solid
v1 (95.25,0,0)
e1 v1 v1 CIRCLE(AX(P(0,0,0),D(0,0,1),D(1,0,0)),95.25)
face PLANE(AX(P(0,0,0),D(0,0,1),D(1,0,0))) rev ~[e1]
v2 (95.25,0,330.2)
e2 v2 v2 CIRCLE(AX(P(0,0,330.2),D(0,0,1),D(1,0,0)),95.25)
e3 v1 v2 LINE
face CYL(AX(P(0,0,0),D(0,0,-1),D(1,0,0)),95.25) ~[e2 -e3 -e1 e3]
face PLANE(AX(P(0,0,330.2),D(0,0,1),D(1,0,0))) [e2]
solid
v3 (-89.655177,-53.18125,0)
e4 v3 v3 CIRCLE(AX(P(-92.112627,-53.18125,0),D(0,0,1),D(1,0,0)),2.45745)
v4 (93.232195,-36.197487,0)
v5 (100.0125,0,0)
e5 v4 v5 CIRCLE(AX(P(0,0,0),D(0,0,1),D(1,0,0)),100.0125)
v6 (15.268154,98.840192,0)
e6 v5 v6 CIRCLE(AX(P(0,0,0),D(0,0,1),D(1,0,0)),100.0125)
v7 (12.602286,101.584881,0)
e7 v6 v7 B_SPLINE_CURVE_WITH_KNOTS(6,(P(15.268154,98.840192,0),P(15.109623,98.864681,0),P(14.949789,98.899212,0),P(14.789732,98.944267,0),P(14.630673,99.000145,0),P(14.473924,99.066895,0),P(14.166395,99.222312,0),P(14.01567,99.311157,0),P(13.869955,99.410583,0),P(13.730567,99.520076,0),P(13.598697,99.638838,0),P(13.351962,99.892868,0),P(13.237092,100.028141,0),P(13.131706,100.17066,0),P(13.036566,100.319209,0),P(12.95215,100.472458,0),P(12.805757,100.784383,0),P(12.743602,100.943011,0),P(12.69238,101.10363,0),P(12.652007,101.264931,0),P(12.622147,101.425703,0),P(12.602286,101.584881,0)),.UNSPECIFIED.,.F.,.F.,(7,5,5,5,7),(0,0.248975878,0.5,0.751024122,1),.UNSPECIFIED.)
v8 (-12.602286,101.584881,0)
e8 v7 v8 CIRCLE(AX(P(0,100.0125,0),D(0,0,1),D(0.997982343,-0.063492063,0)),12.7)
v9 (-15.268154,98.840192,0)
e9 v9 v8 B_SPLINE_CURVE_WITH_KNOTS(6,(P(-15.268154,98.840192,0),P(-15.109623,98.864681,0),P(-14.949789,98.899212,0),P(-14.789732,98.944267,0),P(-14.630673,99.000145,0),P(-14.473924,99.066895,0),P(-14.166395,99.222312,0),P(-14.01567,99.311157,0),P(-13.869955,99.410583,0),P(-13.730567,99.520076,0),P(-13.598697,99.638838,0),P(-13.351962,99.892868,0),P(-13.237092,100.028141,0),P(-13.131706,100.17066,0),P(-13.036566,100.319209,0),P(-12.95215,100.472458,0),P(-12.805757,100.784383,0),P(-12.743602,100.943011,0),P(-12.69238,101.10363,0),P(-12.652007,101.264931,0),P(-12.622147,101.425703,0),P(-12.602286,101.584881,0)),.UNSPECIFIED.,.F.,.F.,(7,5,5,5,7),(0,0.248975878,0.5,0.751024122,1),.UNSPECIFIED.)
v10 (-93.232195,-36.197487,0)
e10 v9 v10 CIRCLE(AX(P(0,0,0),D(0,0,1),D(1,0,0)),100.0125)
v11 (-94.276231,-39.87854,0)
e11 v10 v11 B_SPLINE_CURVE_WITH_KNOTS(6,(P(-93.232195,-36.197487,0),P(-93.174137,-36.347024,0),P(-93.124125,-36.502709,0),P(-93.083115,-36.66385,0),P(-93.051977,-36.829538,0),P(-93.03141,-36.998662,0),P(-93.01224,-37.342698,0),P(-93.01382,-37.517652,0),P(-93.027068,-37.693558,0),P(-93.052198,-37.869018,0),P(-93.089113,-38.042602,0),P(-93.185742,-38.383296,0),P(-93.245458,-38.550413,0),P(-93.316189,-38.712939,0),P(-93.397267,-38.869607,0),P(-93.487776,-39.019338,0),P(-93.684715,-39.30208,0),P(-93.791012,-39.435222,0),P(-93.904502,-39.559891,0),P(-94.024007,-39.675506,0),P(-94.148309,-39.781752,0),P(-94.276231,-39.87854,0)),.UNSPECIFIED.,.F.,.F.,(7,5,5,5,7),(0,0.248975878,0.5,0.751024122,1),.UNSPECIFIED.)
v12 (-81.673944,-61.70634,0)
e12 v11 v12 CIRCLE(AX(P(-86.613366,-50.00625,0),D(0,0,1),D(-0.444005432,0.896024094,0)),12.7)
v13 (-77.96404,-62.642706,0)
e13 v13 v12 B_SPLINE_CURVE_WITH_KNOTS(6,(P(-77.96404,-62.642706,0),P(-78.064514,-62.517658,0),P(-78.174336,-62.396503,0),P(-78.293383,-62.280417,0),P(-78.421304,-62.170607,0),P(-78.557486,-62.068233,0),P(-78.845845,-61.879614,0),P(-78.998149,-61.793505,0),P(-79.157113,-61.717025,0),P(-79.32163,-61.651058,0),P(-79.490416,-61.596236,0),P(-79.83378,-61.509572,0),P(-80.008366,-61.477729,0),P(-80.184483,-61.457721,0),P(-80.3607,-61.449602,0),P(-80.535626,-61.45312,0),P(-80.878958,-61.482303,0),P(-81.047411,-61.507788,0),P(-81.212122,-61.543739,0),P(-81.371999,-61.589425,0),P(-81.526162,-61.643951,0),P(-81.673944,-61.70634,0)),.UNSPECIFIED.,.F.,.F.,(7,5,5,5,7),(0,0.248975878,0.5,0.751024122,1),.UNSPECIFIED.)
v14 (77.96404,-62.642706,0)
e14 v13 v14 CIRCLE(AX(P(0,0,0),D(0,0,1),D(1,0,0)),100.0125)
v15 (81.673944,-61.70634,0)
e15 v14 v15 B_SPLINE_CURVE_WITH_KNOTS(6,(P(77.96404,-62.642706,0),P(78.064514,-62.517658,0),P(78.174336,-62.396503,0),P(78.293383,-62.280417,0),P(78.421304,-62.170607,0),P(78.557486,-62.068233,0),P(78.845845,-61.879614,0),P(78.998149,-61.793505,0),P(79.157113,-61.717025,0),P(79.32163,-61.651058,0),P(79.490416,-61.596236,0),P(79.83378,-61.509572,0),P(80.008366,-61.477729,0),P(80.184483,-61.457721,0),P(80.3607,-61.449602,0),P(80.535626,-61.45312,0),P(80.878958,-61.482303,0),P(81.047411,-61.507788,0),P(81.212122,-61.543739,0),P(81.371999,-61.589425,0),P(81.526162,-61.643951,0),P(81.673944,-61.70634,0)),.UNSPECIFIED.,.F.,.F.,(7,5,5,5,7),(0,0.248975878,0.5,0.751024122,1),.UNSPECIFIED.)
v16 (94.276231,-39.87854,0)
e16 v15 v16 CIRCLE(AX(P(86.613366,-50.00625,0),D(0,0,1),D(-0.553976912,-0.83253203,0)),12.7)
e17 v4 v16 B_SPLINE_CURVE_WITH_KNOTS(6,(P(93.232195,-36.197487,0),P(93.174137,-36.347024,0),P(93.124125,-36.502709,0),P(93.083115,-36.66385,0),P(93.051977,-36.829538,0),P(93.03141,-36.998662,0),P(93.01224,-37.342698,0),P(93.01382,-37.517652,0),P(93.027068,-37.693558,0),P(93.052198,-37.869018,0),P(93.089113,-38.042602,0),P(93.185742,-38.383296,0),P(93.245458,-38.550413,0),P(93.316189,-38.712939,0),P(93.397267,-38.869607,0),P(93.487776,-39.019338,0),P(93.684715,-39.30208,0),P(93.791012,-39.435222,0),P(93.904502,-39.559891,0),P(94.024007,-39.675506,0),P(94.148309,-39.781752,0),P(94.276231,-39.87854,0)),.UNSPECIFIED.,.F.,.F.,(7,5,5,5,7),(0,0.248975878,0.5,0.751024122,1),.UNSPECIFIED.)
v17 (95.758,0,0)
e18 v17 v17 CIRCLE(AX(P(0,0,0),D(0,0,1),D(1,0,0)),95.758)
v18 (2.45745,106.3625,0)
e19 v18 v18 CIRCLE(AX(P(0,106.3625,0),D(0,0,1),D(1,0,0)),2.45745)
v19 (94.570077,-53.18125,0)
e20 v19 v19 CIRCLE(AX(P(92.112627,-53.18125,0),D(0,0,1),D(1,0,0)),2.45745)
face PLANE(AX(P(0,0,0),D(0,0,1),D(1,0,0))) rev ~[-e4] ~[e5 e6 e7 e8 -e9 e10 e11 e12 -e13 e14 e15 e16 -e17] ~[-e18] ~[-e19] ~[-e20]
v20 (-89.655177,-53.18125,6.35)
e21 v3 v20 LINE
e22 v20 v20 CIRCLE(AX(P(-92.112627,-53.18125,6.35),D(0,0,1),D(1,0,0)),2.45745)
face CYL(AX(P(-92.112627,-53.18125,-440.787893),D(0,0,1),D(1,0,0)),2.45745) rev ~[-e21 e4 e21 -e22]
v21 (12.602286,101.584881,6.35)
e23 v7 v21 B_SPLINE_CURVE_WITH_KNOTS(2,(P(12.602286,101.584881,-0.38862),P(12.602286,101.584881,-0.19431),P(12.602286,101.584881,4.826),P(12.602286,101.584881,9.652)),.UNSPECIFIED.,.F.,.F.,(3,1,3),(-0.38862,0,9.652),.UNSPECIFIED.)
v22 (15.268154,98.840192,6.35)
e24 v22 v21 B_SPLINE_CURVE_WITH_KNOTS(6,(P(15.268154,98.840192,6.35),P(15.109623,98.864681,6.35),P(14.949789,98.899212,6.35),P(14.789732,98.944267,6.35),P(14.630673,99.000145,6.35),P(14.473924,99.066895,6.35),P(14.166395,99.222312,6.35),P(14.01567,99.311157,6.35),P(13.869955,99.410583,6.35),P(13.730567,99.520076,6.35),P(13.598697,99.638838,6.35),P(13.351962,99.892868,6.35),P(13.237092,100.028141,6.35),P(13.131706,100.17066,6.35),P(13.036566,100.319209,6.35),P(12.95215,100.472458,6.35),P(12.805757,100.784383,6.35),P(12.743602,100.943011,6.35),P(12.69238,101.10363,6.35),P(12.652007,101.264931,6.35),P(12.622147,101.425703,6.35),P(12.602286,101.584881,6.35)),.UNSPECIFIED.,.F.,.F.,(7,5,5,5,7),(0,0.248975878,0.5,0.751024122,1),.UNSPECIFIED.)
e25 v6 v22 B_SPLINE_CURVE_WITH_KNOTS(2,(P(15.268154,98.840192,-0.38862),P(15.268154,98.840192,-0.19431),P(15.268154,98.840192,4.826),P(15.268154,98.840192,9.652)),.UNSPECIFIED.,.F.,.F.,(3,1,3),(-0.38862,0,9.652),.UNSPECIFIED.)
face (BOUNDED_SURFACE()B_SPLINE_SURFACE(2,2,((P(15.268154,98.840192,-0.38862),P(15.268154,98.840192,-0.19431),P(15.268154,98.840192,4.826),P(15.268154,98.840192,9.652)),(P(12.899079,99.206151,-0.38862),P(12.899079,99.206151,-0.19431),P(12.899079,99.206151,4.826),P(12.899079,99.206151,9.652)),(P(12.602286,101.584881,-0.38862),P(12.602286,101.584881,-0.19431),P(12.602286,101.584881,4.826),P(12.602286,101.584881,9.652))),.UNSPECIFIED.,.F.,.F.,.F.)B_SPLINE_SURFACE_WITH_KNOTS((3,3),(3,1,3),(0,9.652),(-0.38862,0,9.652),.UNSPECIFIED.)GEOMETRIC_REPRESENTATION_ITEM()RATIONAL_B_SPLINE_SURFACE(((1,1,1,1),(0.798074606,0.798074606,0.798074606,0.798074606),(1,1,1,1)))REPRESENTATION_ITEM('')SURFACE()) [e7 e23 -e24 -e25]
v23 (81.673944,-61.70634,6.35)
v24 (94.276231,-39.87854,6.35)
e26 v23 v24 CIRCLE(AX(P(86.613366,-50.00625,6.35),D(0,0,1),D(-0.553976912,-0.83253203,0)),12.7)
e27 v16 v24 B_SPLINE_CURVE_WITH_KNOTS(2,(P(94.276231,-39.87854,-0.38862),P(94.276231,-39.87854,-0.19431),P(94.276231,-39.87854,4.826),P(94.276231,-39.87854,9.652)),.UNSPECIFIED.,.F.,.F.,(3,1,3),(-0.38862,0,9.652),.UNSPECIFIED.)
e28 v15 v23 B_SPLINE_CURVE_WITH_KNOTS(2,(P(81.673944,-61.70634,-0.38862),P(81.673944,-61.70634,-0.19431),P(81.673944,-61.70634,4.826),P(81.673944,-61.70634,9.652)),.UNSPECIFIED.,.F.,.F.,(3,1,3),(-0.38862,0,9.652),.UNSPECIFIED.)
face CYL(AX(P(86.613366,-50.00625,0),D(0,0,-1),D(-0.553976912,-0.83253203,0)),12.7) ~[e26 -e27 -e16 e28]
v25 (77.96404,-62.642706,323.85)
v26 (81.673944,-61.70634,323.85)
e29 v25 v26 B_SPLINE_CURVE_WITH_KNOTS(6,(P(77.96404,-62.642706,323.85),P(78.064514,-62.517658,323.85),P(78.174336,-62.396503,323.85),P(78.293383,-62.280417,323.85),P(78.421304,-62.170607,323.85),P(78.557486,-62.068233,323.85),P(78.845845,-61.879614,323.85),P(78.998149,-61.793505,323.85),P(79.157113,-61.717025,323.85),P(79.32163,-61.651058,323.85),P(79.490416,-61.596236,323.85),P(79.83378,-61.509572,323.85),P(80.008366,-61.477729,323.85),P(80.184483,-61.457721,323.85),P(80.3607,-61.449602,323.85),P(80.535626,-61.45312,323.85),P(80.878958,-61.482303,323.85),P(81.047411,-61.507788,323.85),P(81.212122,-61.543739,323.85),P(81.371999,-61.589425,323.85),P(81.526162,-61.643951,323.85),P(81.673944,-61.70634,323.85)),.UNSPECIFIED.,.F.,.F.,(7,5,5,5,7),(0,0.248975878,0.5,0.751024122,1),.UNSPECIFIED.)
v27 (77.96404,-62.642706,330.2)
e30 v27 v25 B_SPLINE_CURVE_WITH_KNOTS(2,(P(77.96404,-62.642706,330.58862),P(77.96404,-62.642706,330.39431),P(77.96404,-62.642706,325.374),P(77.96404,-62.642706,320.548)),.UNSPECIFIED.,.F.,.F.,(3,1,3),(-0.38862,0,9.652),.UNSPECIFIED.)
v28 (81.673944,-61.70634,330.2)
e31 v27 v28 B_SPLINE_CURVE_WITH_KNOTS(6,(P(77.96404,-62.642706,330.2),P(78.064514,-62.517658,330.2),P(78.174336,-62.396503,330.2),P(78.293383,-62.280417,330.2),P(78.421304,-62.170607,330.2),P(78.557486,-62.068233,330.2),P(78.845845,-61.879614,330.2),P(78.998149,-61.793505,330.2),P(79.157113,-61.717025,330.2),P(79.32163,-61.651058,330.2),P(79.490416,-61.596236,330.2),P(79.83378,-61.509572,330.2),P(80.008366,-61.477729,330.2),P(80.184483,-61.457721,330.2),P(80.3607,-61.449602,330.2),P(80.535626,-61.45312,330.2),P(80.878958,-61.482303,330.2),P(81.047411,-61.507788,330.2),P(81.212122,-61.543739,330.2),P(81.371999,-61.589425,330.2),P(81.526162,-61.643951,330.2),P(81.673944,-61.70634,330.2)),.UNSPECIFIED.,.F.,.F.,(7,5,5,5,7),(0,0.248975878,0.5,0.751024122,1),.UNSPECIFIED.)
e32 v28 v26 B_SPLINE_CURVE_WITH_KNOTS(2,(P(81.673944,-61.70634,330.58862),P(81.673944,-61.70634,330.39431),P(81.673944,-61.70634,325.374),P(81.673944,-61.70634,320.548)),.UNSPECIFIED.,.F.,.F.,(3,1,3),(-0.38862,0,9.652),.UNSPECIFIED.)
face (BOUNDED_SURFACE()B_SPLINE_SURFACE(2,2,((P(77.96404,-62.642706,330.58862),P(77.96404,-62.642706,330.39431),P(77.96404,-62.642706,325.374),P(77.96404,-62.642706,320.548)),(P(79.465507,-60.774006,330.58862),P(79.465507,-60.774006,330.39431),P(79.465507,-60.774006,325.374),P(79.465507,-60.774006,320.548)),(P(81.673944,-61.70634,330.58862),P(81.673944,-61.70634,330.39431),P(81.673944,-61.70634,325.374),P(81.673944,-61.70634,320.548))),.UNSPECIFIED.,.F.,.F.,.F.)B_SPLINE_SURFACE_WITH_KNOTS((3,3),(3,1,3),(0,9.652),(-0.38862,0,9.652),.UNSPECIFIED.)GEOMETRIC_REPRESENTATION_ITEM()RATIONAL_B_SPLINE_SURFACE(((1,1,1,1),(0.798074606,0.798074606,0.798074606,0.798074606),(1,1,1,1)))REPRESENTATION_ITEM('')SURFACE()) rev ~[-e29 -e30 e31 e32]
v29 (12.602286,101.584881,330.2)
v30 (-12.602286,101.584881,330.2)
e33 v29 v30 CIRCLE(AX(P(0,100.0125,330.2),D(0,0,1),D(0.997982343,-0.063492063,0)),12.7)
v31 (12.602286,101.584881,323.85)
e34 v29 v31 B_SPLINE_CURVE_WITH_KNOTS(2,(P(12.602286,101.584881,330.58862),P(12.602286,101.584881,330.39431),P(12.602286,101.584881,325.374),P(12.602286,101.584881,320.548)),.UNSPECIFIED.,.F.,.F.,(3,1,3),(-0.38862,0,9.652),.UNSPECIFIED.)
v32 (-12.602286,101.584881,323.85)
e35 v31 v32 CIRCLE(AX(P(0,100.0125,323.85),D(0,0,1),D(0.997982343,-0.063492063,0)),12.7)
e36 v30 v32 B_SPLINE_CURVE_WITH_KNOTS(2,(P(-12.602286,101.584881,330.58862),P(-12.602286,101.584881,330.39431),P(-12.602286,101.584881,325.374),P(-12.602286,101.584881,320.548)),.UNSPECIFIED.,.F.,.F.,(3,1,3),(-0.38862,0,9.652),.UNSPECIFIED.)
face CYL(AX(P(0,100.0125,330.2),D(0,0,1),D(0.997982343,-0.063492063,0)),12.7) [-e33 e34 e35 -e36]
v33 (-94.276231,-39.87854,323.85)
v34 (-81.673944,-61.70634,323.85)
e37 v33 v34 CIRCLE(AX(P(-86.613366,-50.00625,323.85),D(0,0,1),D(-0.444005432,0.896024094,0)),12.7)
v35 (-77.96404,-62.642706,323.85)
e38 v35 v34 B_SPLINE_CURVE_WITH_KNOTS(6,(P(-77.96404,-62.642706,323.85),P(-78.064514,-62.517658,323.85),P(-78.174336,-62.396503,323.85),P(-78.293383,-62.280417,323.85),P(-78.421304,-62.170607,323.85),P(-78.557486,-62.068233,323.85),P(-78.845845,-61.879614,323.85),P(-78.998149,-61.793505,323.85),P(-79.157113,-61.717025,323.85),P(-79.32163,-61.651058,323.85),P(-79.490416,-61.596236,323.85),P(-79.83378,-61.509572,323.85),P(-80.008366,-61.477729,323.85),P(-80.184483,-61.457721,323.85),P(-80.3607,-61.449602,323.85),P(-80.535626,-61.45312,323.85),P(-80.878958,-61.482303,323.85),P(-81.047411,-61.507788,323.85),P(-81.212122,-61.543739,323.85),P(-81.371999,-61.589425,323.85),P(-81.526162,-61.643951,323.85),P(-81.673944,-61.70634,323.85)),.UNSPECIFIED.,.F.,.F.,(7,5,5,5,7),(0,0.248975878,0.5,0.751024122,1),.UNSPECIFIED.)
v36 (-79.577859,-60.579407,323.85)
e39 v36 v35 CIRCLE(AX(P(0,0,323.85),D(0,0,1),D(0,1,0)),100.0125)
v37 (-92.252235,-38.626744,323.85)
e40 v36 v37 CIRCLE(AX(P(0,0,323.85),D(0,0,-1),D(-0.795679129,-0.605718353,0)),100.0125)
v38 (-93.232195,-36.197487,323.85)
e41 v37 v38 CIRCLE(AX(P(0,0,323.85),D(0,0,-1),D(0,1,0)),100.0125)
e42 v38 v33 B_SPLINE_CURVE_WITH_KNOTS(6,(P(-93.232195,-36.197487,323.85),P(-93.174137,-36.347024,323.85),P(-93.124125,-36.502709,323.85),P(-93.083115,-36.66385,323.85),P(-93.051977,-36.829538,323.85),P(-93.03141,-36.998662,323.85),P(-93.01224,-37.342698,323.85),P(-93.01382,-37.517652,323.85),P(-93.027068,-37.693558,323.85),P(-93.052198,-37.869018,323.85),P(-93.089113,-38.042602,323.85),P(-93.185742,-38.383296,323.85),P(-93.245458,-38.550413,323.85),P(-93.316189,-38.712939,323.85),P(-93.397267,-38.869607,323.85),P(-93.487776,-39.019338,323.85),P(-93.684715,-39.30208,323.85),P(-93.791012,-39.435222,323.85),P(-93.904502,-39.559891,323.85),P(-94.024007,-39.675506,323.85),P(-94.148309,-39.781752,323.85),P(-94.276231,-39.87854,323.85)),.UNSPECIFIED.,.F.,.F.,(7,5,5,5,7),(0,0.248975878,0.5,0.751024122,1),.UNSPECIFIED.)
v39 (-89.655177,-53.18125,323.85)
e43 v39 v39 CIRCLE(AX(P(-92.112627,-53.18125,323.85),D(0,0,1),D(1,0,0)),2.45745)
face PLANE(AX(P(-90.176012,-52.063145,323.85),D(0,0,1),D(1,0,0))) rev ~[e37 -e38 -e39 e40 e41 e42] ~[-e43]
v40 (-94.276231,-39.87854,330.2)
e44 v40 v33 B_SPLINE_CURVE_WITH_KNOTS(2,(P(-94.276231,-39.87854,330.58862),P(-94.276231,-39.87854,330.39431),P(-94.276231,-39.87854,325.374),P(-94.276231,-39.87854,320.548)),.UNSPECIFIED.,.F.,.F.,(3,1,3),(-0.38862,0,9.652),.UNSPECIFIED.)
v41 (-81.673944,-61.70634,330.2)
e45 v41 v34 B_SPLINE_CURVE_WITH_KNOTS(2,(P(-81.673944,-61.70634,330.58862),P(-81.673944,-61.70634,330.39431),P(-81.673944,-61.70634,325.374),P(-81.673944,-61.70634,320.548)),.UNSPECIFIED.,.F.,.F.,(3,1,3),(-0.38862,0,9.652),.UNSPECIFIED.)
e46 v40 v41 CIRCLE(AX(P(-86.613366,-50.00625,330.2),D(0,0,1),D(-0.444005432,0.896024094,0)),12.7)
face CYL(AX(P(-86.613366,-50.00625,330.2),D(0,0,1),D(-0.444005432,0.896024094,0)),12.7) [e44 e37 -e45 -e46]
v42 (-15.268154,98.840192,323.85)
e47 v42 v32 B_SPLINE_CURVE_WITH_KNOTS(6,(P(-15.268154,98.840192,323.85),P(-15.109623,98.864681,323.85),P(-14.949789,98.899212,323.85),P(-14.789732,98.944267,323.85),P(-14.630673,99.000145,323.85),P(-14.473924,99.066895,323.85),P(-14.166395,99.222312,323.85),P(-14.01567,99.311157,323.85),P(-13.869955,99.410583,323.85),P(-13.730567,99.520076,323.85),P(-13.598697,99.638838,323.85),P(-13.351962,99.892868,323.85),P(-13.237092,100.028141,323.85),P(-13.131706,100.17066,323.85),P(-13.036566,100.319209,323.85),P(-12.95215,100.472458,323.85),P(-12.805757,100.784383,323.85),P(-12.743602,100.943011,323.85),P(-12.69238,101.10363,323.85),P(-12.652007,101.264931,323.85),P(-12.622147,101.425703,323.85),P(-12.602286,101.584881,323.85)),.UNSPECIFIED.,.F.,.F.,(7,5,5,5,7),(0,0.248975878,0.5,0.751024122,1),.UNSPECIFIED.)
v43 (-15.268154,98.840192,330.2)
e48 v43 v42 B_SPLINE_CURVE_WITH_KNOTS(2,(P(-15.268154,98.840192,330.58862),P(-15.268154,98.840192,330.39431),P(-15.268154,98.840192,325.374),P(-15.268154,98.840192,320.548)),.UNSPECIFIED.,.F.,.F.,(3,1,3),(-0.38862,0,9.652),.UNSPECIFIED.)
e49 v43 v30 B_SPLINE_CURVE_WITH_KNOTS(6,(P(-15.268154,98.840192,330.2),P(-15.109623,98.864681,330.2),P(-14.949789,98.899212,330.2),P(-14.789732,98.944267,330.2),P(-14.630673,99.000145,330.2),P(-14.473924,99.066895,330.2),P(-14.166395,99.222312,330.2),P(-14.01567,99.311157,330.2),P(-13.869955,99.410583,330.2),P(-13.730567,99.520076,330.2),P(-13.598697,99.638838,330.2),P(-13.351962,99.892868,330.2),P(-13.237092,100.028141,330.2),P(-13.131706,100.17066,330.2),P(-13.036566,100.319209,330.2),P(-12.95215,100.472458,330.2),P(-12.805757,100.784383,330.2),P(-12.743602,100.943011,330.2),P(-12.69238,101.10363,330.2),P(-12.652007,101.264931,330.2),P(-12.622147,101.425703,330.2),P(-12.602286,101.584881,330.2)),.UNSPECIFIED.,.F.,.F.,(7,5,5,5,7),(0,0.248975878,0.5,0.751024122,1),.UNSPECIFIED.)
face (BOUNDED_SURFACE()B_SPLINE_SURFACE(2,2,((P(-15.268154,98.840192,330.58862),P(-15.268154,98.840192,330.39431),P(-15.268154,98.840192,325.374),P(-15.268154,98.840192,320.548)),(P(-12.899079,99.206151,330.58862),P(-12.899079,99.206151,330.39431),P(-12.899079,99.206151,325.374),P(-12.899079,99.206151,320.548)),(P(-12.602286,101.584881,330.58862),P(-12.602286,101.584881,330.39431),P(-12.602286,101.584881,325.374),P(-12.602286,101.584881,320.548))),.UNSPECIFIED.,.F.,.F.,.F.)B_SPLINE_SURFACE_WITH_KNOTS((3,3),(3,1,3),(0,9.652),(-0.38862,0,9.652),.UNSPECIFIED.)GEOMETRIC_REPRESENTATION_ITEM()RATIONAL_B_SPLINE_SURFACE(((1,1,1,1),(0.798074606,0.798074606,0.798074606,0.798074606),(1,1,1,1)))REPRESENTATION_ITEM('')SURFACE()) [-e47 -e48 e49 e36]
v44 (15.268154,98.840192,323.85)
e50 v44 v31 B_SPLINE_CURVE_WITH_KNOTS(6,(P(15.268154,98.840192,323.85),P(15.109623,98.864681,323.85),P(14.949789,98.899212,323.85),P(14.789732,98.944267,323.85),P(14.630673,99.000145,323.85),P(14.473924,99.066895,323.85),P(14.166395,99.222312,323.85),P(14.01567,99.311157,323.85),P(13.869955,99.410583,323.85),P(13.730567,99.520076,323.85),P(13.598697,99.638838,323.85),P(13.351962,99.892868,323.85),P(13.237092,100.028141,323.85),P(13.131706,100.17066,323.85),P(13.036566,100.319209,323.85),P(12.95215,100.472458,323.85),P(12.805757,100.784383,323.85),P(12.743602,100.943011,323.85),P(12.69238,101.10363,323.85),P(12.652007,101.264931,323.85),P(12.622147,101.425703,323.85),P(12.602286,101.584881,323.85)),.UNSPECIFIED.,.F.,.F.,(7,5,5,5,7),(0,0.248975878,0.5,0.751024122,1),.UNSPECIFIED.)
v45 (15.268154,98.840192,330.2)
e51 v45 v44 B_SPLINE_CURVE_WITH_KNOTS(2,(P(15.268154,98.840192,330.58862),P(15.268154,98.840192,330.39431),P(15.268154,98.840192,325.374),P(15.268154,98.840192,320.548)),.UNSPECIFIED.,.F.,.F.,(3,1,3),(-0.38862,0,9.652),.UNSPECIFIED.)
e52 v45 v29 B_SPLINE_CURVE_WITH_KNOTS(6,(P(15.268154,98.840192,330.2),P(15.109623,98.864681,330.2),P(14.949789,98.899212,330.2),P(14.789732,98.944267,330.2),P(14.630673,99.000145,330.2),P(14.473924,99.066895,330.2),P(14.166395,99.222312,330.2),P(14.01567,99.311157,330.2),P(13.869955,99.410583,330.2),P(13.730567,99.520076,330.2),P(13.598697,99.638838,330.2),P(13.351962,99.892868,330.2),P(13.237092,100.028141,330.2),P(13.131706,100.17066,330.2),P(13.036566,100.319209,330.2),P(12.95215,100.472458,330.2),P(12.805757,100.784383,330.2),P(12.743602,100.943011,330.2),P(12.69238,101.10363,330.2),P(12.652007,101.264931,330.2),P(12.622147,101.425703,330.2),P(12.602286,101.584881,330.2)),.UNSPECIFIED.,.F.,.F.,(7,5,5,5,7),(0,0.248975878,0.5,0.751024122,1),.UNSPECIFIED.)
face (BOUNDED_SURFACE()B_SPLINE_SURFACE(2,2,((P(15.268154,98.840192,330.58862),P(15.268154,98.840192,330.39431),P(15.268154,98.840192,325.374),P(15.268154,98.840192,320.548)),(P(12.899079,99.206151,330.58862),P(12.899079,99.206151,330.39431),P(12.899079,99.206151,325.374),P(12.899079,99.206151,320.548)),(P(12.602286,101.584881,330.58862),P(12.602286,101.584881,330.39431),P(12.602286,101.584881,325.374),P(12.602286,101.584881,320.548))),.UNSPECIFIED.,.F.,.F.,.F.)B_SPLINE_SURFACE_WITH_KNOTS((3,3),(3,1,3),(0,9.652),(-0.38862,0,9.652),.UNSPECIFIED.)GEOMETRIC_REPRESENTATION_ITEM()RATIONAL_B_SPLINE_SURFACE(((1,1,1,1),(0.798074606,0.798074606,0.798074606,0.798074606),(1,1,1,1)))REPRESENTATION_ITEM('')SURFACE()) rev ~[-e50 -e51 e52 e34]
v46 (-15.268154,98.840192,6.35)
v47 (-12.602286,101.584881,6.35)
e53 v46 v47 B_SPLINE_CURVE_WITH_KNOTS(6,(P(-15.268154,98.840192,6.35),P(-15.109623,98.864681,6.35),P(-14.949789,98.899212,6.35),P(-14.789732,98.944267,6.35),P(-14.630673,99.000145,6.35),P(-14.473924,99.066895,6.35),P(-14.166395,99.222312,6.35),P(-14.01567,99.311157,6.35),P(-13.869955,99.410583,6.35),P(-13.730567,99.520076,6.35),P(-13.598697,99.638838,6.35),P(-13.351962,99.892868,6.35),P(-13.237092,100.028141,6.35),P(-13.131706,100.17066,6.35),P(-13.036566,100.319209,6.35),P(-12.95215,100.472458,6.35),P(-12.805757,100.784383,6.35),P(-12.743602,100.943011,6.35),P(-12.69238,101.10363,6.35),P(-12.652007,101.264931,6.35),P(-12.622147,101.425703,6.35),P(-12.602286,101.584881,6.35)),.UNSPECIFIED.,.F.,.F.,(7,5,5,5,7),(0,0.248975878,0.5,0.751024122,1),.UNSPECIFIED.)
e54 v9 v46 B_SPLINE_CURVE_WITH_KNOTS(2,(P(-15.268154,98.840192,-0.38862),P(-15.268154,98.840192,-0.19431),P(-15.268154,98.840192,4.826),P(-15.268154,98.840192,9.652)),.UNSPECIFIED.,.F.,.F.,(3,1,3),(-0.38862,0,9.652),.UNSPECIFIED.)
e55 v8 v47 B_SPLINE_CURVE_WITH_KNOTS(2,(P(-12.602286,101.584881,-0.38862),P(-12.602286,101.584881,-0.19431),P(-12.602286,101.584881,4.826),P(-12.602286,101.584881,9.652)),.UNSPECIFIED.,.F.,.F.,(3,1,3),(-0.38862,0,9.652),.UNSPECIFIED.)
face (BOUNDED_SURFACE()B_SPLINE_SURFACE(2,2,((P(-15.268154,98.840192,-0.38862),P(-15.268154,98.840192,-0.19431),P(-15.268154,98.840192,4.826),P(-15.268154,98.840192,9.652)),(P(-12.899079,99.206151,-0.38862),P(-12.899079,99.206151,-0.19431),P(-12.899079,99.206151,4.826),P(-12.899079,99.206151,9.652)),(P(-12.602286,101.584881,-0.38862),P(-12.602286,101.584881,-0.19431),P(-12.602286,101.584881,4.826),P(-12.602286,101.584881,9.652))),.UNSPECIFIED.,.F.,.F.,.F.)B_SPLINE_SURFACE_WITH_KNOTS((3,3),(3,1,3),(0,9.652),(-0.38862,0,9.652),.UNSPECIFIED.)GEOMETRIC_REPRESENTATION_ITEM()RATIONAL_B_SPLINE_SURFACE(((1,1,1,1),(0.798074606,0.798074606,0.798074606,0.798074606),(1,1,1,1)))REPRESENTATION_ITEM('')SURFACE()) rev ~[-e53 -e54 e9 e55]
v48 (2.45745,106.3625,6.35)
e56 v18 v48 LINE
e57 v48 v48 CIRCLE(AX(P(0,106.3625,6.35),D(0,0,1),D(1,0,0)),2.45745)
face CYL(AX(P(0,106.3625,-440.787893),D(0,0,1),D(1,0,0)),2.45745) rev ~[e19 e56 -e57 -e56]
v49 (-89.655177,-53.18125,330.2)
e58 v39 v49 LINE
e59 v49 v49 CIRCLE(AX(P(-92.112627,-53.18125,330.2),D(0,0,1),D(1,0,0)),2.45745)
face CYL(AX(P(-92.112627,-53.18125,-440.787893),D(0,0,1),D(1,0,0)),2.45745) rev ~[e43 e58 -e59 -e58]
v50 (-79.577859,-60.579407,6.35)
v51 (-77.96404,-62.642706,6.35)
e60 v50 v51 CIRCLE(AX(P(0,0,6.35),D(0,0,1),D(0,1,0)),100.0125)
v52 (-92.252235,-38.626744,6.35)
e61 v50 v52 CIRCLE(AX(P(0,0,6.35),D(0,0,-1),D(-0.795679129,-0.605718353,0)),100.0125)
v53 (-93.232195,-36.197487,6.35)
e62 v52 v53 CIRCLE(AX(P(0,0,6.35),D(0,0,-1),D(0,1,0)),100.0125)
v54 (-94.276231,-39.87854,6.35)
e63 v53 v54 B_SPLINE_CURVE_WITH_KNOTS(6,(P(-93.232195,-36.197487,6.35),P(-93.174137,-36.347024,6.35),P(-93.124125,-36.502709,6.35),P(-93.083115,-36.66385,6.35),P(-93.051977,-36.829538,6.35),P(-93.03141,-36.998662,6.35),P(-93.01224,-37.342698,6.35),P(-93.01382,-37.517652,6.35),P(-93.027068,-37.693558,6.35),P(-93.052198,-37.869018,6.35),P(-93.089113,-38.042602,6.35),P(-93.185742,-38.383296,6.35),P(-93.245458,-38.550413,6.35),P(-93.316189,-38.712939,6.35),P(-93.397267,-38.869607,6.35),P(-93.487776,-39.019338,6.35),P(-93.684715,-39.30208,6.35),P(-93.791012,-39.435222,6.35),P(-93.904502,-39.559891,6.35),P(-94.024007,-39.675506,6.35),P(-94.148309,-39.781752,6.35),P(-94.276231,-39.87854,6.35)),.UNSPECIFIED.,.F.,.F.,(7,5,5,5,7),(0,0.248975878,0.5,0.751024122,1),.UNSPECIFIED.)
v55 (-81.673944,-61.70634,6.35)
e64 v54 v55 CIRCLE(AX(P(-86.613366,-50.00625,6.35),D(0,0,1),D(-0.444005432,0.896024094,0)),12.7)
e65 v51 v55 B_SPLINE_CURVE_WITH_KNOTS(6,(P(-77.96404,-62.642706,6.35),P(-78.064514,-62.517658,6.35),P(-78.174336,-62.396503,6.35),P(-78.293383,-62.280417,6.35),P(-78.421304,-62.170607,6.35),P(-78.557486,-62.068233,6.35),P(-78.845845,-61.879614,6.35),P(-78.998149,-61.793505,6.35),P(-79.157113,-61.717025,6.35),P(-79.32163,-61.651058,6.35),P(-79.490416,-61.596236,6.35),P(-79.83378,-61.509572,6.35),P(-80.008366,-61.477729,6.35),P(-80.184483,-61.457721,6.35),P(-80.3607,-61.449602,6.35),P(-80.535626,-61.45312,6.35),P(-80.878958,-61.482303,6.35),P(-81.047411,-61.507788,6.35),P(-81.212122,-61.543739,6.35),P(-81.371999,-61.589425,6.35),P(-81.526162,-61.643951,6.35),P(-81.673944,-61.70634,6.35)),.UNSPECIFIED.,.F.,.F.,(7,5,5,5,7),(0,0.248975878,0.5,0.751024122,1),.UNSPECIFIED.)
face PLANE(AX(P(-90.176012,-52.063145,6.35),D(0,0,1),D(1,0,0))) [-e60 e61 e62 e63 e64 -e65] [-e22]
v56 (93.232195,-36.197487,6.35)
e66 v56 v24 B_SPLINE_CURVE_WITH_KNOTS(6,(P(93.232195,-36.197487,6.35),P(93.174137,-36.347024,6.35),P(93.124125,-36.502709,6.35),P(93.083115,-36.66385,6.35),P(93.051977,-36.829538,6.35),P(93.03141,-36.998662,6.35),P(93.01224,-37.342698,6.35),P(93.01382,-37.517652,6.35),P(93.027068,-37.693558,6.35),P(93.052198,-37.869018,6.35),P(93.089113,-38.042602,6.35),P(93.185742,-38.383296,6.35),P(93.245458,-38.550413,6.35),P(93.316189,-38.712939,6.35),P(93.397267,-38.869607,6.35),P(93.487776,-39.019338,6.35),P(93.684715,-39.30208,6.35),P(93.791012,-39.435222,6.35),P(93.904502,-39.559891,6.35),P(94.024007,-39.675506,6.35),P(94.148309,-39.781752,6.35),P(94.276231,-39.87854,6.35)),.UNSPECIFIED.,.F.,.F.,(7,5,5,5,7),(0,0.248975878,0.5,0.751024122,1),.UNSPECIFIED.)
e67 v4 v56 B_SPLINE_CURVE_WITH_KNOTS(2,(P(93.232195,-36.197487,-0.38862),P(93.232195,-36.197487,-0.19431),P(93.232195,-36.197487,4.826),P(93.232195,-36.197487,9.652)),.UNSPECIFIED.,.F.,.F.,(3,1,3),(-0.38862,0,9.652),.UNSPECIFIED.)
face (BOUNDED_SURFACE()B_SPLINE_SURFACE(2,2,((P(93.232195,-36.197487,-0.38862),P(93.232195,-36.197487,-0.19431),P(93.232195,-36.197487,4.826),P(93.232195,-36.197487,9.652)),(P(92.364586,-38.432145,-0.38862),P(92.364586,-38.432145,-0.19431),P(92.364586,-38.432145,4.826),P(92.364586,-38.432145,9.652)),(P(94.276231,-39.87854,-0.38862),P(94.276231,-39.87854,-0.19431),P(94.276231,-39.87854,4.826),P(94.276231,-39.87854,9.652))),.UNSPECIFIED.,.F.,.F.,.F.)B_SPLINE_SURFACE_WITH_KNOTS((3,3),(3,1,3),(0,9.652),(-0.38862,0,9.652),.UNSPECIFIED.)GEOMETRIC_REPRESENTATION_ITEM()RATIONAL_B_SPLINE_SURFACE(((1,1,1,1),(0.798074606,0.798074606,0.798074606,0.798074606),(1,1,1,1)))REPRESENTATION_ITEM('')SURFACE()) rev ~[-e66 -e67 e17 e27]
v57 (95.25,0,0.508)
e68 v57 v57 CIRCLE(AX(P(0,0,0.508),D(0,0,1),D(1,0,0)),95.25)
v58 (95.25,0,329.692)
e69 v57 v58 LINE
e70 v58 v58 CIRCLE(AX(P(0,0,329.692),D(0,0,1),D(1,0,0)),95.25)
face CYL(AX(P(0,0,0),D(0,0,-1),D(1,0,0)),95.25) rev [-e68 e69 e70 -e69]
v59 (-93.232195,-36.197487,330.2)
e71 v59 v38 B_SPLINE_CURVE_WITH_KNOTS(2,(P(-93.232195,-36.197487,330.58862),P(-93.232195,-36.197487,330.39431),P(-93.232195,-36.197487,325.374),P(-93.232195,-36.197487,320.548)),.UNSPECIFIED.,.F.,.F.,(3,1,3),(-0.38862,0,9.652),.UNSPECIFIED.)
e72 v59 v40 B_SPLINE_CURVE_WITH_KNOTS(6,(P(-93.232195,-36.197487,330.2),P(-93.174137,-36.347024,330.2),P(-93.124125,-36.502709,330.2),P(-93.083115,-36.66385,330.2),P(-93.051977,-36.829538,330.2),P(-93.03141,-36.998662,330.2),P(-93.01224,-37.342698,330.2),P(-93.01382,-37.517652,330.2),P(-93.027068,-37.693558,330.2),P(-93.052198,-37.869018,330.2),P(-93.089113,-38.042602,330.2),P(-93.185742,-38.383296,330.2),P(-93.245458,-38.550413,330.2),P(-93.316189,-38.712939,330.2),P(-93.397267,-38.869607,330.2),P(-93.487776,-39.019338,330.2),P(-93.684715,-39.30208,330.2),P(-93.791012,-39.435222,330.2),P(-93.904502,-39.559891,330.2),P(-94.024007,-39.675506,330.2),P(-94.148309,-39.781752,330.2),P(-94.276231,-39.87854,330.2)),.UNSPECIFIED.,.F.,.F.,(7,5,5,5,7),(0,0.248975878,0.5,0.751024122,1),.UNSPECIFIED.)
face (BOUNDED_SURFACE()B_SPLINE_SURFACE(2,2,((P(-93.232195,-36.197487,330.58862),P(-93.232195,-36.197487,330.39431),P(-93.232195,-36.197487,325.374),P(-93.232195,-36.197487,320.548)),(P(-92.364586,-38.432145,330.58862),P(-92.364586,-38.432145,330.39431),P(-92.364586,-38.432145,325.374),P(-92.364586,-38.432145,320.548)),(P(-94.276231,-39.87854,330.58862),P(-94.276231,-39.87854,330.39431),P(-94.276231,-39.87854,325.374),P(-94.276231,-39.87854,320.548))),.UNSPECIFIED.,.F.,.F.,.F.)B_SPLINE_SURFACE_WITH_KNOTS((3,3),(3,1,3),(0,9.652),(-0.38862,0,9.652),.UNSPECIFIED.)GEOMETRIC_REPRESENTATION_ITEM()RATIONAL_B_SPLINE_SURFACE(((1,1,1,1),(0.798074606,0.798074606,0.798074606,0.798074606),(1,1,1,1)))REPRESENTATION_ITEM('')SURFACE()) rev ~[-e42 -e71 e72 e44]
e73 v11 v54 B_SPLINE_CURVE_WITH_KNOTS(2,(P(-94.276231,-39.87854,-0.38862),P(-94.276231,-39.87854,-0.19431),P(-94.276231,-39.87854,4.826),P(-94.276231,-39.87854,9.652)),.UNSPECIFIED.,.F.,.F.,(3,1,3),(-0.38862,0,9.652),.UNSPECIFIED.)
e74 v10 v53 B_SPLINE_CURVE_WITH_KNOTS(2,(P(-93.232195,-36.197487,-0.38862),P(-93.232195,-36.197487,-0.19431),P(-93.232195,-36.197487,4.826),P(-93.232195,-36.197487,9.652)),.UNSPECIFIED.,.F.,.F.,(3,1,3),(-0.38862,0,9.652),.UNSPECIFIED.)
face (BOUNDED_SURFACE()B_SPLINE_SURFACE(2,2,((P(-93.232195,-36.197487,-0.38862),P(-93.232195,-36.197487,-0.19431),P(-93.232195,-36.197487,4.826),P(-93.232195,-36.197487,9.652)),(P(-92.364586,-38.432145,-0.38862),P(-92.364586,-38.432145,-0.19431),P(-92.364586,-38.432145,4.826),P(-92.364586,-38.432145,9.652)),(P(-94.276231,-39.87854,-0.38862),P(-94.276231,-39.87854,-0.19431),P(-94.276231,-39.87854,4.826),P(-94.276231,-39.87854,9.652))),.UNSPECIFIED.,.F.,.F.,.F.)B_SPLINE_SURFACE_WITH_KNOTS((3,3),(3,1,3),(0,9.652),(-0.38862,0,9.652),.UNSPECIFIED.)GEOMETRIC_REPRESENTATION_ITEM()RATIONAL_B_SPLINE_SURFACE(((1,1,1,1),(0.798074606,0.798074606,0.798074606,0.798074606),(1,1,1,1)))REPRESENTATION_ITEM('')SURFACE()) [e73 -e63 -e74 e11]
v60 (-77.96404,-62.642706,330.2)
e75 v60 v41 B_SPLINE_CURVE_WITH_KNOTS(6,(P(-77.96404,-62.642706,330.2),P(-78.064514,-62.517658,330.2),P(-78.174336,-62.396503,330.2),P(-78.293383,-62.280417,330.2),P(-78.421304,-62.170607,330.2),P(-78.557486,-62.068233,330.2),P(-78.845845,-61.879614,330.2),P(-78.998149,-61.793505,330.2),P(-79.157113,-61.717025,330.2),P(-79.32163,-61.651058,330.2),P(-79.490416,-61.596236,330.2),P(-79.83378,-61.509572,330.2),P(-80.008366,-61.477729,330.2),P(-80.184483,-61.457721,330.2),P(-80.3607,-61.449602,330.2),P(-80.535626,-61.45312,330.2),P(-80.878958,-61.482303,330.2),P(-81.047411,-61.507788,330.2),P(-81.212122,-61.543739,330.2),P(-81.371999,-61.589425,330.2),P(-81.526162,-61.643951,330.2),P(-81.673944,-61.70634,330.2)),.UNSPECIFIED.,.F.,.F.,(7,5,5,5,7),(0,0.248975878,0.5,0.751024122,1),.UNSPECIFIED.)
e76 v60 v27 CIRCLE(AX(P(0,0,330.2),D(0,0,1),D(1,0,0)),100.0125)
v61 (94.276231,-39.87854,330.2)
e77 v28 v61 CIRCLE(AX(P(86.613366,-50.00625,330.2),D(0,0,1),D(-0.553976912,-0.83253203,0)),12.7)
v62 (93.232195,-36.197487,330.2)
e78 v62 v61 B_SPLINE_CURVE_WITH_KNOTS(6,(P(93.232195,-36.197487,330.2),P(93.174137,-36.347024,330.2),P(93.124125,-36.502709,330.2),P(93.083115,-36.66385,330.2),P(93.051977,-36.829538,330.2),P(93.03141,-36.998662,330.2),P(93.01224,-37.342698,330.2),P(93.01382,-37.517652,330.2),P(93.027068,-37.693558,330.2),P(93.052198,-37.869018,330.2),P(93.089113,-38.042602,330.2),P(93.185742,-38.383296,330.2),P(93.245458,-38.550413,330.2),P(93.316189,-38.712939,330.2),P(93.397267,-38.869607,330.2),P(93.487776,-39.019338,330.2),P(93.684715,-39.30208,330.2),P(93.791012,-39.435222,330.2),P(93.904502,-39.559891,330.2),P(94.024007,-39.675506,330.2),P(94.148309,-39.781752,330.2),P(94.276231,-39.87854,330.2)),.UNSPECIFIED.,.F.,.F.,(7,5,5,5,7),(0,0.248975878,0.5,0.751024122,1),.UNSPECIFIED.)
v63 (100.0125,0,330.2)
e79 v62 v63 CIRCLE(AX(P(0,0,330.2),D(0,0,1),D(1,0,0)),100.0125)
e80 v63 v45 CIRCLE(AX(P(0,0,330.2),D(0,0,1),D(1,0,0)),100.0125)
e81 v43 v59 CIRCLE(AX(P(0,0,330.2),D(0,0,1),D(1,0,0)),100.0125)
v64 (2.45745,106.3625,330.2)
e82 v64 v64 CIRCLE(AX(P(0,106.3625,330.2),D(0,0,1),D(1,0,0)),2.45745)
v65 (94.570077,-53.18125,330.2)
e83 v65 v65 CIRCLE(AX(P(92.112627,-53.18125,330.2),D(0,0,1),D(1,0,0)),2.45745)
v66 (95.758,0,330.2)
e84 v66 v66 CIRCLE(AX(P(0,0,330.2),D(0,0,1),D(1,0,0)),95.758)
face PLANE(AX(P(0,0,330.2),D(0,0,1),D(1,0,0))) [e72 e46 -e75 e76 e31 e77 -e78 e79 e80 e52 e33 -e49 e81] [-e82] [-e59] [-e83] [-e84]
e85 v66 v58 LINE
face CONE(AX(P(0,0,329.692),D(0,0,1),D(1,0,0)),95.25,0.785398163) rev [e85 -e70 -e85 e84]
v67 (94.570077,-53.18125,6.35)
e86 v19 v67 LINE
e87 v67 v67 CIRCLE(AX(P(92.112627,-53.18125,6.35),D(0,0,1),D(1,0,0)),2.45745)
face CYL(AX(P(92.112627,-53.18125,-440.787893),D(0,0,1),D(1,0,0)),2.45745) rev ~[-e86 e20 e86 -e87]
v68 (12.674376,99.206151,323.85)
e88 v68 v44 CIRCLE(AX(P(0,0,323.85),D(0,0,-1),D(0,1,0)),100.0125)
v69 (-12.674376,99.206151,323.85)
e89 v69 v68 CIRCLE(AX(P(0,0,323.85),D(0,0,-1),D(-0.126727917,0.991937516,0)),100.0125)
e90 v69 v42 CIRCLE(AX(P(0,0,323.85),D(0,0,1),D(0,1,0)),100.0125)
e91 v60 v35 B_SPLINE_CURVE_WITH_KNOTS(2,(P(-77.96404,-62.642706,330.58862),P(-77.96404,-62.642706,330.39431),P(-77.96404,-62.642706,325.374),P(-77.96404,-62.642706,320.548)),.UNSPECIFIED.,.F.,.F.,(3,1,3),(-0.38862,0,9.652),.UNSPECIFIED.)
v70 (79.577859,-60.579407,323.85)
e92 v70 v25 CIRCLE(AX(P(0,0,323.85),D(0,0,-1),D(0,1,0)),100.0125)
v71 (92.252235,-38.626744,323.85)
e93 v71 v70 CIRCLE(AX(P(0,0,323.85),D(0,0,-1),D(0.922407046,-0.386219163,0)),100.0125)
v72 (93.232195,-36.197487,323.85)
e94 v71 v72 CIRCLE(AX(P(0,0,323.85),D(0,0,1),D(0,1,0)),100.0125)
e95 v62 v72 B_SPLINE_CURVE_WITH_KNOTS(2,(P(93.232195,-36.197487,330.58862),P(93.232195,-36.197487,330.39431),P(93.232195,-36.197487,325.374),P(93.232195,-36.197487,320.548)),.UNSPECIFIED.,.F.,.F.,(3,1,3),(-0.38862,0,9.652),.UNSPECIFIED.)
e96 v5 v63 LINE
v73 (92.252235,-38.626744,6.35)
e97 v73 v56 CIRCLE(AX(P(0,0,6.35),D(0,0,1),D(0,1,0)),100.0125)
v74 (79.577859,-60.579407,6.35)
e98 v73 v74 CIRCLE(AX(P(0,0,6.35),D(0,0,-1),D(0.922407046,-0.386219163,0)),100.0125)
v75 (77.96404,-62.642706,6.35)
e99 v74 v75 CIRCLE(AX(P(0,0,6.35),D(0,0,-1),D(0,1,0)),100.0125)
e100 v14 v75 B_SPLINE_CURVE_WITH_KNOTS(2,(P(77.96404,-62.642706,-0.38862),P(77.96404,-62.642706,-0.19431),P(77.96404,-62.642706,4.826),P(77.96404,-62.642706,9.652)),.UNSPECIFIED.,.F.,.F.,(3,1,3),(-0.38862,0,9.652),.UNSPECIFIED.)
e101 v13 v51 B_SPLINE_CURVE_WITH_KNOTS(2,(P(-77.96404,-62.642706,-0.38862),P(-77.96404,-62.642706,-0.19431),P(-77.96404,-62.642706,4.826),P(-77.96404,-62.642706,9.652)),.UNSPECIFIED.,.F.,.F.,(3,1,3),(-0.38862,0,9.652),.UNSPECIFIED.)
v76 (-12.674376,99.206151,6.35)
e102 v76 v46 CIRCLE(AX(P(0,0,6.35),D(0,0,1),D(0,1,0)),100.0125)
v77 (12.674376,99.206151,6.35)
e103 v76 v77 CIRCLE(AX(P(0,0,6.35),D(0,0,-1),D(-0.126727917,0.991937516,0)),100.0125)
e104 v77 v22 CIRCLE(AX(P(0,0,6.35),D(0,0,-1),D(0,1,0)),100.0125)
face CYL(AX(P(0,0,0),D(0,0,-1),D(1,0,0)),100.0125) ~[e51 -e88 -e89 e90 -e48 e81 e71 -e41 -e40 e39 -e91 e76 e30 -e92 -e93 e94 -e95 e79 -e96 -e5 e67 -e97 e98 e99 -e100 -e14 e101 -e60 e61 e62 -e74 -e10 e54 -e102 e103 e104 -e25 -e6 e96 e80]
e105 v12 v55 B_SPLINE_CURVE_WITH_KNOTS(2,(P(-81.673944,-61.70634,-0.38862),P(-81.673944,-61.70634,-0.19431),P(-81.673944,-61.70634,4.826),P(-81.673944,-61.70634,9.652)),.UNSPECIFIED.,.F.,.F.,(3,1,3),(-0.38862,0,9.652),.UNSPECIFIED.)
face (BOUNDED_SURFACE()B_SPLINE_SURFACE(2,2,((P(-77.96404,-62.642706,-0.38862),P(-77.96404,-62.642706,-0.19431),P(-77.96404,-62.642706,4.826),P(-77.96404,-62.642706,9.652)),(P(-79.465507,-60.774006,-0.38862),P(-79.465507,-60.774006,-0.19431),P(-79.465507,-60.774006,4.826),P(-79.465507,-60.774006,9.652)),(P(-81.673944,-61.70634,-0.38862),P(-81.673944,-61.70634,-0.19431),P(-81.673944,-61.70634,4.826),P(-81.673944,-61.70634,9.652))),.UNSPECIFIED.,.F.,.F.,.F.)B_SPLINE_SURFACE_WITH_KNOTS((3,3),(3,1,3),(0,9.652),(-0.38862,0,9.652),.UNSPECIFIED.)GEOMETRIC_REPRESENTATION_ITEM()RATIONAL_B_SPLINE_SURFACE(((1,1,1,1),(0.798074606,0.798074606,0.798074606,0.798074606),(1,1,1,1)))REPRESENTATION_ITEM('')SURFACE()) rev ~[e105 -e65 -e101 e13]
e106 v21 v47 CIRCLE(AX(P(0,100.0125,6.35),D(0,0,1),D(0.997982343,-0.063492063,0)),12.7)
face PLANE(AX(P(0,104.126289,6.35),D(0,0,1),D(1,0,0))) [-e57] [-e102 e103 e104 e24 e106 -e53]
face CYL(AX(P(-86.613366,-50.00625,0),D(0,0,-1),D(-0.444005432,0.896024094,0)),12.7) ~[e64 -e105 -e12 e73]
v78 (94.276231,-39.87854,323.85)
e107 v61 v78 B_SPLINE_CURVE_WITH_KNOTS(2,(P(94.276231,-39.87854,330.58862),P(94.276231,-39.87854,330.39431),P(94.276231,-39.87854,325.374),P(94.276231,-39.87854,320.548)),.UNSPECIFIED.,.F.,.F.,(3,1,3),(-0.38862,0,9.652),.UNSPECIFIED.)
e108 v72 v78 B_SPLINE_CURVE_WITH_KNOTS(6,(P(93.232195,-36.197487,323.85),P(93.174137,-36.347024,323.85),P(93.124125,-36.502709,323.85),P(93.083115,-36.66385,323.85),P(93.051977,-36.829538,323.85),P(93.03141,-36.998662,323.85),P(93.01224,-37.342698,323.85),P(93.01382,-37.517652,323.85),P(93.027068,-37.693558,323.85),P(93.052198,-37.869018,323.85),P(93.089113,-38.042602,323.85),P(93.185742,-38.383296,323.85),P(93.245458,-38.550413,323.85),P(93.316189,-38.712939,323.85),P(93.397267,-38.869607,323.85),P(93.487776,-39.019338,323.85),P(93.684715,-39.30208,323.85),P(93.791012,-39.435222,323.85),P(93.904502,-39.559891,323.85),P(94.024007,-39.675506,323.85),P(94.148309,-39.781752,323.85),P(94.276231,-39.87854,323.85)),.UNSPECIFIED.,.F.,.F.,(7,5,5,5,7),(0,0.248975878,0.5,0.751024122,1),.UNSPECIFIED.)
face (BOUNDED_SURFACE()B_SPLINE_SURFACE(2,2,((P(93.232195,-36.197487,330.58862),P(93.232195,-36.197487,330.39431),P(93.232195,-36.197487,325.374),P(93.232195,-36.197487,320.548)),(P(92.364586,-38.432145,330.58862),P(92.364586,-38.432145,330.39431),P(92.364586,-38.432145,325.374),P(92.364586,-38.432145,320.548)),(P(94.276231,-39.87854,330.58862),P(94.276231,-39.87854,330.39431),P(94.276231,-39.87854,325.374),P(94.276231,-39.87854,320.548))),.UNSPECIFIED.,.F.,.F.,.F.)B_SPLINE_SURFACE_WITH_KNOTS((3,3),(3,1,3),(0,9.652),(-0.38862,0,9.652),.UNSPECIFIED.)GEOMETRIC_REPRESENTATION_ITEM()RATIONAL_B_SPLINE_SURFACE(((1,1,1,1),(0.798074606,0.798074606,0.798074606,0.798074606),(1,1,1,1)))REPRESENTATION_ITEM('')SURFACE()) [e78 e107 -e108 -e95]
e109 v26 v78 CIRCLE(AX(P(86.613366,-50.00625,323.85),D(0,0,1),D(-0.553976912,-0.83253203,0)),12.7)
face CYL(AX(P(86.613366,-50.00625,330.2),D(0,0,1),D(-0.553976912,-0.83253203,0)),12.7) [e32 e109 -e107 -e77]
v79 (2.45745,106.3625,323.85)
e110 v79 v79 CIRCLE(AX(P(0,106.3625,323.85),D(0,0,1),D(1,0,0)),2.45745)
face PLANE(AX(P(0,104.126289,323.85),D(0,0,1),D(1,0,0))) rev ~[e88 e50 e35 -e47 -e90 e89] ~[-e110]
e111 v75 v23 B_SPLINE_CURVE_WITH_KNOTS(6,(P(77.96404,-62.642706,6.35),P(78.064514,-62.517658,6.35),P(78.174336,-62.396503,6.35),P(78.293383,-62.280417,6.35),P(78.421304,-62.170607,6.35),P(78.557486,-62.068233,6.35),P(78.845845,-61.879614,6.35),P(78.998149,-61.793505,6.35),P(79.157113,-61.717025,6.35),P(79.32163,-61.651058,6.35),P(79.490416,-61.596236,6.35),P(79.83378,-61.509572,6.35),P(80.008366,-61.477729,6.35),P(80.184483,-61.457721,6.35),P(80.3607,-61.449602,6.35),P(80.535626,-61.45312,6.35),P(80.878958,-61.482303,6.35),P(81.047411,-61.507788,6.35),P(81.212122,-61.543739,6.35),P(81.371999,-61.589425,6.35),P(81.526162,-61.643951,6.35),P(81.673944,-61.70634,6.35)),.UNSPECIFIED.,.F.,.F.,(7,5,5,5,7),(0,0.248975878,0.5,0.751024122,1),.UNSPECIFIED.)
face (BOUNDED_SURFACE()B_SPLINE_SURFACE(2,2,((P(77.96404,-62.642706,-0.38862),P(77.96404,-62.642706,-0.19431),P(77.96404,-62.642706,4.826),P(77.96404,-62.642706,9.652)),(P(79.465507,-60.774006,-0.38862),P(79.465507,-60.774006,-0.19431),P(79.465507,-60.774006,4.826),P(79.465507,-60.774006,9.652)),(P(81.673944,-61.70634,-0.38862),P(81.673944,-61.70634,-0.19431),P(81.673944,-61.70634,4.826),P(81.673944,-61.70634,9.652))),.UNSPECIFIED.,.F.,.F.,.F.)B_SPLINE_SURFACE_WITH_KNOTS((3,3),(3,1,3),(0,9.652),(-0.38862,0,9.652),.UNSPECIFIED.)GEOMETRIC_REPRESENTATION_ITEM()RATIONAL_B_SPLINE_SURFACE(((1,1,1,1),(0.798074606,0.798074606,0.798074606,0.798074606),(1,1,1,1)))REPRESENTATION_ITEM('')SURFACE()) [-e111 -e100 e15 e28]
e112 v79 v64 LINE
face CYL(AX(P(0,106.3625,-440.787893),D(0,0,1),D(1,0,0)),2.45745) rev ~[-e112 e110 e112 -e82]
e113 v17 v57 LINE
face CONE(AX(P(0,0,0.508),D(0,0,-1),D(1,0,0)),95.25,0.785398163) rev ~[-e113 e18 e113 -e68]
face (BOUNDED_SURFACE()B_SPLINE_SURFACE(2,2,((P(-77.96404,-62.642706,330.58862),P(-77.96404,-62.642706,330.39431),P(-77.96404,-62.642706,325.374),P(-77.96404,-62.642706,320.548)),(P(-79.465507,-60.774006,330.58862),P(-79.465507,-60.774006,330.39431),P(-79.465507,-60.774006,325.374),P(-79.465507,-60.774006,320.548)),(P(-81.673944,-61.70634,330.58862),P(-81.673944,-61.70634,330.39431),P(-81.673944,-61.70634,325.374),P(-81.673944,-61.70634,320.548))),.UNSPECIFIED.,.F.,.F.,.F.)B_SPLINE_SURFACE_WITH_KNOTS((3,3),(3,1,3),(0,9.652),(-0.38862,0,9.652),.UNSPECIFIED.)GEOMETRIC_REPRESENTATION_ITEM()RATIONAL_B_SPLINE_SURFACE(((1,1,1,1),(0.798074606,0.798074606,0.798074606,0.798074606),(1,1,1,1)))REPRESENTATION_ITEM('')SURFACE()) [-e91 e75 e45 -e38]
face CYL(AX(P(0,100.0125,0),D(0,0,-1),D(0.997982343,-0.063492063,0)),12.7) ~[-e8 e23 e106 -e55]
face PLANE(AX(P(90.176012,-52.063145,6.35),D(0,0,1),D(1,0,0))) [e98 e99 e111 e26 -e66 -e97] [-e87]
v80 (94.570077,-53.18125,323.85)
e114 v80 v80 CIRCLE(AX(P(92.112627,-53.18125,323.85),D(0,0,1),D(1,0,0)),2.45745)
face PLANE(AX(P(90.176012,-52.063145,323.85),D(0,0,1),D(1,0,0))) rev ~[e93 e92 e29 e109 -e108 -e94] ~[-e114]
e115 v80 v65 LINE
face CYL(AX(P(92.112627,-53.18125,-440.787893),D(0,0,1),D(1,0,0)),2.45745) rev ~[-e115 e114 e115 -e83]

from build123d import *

# Parameters (mm, degrees)
SKETCH1_R                    = 100.0125
SKETCH1_R_2                  = 95.25
EXTRUDE1_DEPTH               = 330.2
EXTRUDE2_DEPTH               = 6.35
EXTRUDE4_DEPTH               = 6.35
F_10_0_1935_DIAMETER_HOLE1_D = 4.9149
CHAMFER1_SIZE                = 0.508
FILLET1_R                    = 3.175
SKETCH1_3_R                  = 95.25
BOSS_EXTRUDE1_DEPTH          = 330.2


with BuildPart() as part:
    # Sketch1 → Extrude1 (new body)
    with BuildSketch(Plane.XY):
        Circle(SKETCH1_R)
        Circle(SKETCH1_R_2, mode=Mode.SUBTRACT)
    extrude(amount=EXTRUDE1_DEPTH)

    # Sketch2 → Extrude2 (add)
    with BuildSketch(Plane.XY):
        with BuildLine():
            ThreePointArc((-12.674375762, 99.206150794), (0, 100.0125), (12.674375762, 99.206150794))
            ThreePointArc((12.674375762, 99.206150794), (0, 112.7125), (-12.674375762, 99.206150794))
        make_face()
        with BuildLine():
            ThreePointArc((-79.577858918, -60.579406784), (-86.613365696, -50.00625), (-92.25223468, -38.62674401))
            ThreePointArc((-92.25223468, -38.62674401), (-97.611888324, -56.35625), (-79.577858918, -60.579406784))
        make_face()
        with BuildLine():
            ThreePointArc((79.577858918, -60.579406784), (97.611888324, -56.35625), (92.25223468, -38.62674401))
            ThreePointArc((92.25223468, -38.62674401), (86.613365696, -50.00625), (79.577858918, -60.579406784))
        make_face()
    extrude(amount=EXTRUDE2_DEPTH)

    # Sketch3 → Extrude4 (add)
    with BuildSketch(Plane.XY.offset(330.2)):
        with BuildLine():
            ThreePointArc((12.674375762, 99.206150794), (0, 112.7125), (-12.674375762, 99.206150794))
            ThreePointArc((-12.674375762, 99.206150794), (0, 100.0125), (12.674375762, 99.206150794))
        make_face()
        with BuildLine():
            ThreePointArc((92.25223468, -38.62674401), (86.613365696, -50.00625), (79.577858918, -60.579406784))
            ThreePointArc((79.577858918, -60.579406784), (97.611888324, -56.35625), (92.25223468, -38.62674401))
        make_face()
        with BuildLine():
            ThreePointArc((-92.25223468, -38.62674401), (-97.611888324, -56.35625), (-79.577858918, -60.579406784))
            ThreePointArc((-79.577858918, -60.579406784), (-86.613365696, -50.00625), (-92.25223468, -38.62674401))
        make_face()
    extrude(amount=-EXTRUDE4_DEPTH)

    # 10 _0.1935_ Diameter Hole1 (through all)
    with Locations(Plane(origin=(0, 106.3625, 0), x_dir=(-1, 0, 0), z_dir=(0, 0, -1))):
        with Locations((0, 0), (-92.11262701, -159.54375), (92.11262701, -159.54375)):
            Hole(F_10_0_1935_DIAMETER_HOLE1_D / 2)

    # Chamfer1
    chamfer1_edges = [part.edges().sort_by_distance(p)[0] for p in [
        (-95.25, 0, 0),
        (-95.25, 0, 330.2),
    ]]
    chamfer(chamfer1_edges, length=CHAMFER1_SIZE)

    # Fillet1
    fillet1_edges = [part.edges().sort_by_distance(p)[0] for p in [
        (79.577858918, -60.579406784, 3.175),
        (92.25223468, -38.62674401, 3.175),
        (-12.674375762, 99.206150794, 3.175),
        (12.674375762, 99.206150794, 3.175),
        (-92.25223468, -38.62674401, 3.175),
        (-79.577858918, -60.579406784, 3.175),
        (-79.577858918, -60.579406784, 327.025),
        (-92.25223468, -38.62674401, 327.025),
        (-12.674375762, 99.206150794, 327.025),
        (12.674375762, 99.206150794, 327.025),
        (92.25223468, -38.62674401, 327.025),
        (79.577858918, -60.579406784, 327.025),
    ]]
    fillet(fillet1_edges, radius=FILLET1_R)


with BuildPart() as body_2:
    # Sketch1_3 → Boss-Extrude1 (new body)
    with BuildSketch(Plane.XY):
        Circle(SKETCH1_3_R)
    extrude(amount=BOSS_EXTRUDE1_DEPTH)


solid = Compound([part.part, body_2.part])
